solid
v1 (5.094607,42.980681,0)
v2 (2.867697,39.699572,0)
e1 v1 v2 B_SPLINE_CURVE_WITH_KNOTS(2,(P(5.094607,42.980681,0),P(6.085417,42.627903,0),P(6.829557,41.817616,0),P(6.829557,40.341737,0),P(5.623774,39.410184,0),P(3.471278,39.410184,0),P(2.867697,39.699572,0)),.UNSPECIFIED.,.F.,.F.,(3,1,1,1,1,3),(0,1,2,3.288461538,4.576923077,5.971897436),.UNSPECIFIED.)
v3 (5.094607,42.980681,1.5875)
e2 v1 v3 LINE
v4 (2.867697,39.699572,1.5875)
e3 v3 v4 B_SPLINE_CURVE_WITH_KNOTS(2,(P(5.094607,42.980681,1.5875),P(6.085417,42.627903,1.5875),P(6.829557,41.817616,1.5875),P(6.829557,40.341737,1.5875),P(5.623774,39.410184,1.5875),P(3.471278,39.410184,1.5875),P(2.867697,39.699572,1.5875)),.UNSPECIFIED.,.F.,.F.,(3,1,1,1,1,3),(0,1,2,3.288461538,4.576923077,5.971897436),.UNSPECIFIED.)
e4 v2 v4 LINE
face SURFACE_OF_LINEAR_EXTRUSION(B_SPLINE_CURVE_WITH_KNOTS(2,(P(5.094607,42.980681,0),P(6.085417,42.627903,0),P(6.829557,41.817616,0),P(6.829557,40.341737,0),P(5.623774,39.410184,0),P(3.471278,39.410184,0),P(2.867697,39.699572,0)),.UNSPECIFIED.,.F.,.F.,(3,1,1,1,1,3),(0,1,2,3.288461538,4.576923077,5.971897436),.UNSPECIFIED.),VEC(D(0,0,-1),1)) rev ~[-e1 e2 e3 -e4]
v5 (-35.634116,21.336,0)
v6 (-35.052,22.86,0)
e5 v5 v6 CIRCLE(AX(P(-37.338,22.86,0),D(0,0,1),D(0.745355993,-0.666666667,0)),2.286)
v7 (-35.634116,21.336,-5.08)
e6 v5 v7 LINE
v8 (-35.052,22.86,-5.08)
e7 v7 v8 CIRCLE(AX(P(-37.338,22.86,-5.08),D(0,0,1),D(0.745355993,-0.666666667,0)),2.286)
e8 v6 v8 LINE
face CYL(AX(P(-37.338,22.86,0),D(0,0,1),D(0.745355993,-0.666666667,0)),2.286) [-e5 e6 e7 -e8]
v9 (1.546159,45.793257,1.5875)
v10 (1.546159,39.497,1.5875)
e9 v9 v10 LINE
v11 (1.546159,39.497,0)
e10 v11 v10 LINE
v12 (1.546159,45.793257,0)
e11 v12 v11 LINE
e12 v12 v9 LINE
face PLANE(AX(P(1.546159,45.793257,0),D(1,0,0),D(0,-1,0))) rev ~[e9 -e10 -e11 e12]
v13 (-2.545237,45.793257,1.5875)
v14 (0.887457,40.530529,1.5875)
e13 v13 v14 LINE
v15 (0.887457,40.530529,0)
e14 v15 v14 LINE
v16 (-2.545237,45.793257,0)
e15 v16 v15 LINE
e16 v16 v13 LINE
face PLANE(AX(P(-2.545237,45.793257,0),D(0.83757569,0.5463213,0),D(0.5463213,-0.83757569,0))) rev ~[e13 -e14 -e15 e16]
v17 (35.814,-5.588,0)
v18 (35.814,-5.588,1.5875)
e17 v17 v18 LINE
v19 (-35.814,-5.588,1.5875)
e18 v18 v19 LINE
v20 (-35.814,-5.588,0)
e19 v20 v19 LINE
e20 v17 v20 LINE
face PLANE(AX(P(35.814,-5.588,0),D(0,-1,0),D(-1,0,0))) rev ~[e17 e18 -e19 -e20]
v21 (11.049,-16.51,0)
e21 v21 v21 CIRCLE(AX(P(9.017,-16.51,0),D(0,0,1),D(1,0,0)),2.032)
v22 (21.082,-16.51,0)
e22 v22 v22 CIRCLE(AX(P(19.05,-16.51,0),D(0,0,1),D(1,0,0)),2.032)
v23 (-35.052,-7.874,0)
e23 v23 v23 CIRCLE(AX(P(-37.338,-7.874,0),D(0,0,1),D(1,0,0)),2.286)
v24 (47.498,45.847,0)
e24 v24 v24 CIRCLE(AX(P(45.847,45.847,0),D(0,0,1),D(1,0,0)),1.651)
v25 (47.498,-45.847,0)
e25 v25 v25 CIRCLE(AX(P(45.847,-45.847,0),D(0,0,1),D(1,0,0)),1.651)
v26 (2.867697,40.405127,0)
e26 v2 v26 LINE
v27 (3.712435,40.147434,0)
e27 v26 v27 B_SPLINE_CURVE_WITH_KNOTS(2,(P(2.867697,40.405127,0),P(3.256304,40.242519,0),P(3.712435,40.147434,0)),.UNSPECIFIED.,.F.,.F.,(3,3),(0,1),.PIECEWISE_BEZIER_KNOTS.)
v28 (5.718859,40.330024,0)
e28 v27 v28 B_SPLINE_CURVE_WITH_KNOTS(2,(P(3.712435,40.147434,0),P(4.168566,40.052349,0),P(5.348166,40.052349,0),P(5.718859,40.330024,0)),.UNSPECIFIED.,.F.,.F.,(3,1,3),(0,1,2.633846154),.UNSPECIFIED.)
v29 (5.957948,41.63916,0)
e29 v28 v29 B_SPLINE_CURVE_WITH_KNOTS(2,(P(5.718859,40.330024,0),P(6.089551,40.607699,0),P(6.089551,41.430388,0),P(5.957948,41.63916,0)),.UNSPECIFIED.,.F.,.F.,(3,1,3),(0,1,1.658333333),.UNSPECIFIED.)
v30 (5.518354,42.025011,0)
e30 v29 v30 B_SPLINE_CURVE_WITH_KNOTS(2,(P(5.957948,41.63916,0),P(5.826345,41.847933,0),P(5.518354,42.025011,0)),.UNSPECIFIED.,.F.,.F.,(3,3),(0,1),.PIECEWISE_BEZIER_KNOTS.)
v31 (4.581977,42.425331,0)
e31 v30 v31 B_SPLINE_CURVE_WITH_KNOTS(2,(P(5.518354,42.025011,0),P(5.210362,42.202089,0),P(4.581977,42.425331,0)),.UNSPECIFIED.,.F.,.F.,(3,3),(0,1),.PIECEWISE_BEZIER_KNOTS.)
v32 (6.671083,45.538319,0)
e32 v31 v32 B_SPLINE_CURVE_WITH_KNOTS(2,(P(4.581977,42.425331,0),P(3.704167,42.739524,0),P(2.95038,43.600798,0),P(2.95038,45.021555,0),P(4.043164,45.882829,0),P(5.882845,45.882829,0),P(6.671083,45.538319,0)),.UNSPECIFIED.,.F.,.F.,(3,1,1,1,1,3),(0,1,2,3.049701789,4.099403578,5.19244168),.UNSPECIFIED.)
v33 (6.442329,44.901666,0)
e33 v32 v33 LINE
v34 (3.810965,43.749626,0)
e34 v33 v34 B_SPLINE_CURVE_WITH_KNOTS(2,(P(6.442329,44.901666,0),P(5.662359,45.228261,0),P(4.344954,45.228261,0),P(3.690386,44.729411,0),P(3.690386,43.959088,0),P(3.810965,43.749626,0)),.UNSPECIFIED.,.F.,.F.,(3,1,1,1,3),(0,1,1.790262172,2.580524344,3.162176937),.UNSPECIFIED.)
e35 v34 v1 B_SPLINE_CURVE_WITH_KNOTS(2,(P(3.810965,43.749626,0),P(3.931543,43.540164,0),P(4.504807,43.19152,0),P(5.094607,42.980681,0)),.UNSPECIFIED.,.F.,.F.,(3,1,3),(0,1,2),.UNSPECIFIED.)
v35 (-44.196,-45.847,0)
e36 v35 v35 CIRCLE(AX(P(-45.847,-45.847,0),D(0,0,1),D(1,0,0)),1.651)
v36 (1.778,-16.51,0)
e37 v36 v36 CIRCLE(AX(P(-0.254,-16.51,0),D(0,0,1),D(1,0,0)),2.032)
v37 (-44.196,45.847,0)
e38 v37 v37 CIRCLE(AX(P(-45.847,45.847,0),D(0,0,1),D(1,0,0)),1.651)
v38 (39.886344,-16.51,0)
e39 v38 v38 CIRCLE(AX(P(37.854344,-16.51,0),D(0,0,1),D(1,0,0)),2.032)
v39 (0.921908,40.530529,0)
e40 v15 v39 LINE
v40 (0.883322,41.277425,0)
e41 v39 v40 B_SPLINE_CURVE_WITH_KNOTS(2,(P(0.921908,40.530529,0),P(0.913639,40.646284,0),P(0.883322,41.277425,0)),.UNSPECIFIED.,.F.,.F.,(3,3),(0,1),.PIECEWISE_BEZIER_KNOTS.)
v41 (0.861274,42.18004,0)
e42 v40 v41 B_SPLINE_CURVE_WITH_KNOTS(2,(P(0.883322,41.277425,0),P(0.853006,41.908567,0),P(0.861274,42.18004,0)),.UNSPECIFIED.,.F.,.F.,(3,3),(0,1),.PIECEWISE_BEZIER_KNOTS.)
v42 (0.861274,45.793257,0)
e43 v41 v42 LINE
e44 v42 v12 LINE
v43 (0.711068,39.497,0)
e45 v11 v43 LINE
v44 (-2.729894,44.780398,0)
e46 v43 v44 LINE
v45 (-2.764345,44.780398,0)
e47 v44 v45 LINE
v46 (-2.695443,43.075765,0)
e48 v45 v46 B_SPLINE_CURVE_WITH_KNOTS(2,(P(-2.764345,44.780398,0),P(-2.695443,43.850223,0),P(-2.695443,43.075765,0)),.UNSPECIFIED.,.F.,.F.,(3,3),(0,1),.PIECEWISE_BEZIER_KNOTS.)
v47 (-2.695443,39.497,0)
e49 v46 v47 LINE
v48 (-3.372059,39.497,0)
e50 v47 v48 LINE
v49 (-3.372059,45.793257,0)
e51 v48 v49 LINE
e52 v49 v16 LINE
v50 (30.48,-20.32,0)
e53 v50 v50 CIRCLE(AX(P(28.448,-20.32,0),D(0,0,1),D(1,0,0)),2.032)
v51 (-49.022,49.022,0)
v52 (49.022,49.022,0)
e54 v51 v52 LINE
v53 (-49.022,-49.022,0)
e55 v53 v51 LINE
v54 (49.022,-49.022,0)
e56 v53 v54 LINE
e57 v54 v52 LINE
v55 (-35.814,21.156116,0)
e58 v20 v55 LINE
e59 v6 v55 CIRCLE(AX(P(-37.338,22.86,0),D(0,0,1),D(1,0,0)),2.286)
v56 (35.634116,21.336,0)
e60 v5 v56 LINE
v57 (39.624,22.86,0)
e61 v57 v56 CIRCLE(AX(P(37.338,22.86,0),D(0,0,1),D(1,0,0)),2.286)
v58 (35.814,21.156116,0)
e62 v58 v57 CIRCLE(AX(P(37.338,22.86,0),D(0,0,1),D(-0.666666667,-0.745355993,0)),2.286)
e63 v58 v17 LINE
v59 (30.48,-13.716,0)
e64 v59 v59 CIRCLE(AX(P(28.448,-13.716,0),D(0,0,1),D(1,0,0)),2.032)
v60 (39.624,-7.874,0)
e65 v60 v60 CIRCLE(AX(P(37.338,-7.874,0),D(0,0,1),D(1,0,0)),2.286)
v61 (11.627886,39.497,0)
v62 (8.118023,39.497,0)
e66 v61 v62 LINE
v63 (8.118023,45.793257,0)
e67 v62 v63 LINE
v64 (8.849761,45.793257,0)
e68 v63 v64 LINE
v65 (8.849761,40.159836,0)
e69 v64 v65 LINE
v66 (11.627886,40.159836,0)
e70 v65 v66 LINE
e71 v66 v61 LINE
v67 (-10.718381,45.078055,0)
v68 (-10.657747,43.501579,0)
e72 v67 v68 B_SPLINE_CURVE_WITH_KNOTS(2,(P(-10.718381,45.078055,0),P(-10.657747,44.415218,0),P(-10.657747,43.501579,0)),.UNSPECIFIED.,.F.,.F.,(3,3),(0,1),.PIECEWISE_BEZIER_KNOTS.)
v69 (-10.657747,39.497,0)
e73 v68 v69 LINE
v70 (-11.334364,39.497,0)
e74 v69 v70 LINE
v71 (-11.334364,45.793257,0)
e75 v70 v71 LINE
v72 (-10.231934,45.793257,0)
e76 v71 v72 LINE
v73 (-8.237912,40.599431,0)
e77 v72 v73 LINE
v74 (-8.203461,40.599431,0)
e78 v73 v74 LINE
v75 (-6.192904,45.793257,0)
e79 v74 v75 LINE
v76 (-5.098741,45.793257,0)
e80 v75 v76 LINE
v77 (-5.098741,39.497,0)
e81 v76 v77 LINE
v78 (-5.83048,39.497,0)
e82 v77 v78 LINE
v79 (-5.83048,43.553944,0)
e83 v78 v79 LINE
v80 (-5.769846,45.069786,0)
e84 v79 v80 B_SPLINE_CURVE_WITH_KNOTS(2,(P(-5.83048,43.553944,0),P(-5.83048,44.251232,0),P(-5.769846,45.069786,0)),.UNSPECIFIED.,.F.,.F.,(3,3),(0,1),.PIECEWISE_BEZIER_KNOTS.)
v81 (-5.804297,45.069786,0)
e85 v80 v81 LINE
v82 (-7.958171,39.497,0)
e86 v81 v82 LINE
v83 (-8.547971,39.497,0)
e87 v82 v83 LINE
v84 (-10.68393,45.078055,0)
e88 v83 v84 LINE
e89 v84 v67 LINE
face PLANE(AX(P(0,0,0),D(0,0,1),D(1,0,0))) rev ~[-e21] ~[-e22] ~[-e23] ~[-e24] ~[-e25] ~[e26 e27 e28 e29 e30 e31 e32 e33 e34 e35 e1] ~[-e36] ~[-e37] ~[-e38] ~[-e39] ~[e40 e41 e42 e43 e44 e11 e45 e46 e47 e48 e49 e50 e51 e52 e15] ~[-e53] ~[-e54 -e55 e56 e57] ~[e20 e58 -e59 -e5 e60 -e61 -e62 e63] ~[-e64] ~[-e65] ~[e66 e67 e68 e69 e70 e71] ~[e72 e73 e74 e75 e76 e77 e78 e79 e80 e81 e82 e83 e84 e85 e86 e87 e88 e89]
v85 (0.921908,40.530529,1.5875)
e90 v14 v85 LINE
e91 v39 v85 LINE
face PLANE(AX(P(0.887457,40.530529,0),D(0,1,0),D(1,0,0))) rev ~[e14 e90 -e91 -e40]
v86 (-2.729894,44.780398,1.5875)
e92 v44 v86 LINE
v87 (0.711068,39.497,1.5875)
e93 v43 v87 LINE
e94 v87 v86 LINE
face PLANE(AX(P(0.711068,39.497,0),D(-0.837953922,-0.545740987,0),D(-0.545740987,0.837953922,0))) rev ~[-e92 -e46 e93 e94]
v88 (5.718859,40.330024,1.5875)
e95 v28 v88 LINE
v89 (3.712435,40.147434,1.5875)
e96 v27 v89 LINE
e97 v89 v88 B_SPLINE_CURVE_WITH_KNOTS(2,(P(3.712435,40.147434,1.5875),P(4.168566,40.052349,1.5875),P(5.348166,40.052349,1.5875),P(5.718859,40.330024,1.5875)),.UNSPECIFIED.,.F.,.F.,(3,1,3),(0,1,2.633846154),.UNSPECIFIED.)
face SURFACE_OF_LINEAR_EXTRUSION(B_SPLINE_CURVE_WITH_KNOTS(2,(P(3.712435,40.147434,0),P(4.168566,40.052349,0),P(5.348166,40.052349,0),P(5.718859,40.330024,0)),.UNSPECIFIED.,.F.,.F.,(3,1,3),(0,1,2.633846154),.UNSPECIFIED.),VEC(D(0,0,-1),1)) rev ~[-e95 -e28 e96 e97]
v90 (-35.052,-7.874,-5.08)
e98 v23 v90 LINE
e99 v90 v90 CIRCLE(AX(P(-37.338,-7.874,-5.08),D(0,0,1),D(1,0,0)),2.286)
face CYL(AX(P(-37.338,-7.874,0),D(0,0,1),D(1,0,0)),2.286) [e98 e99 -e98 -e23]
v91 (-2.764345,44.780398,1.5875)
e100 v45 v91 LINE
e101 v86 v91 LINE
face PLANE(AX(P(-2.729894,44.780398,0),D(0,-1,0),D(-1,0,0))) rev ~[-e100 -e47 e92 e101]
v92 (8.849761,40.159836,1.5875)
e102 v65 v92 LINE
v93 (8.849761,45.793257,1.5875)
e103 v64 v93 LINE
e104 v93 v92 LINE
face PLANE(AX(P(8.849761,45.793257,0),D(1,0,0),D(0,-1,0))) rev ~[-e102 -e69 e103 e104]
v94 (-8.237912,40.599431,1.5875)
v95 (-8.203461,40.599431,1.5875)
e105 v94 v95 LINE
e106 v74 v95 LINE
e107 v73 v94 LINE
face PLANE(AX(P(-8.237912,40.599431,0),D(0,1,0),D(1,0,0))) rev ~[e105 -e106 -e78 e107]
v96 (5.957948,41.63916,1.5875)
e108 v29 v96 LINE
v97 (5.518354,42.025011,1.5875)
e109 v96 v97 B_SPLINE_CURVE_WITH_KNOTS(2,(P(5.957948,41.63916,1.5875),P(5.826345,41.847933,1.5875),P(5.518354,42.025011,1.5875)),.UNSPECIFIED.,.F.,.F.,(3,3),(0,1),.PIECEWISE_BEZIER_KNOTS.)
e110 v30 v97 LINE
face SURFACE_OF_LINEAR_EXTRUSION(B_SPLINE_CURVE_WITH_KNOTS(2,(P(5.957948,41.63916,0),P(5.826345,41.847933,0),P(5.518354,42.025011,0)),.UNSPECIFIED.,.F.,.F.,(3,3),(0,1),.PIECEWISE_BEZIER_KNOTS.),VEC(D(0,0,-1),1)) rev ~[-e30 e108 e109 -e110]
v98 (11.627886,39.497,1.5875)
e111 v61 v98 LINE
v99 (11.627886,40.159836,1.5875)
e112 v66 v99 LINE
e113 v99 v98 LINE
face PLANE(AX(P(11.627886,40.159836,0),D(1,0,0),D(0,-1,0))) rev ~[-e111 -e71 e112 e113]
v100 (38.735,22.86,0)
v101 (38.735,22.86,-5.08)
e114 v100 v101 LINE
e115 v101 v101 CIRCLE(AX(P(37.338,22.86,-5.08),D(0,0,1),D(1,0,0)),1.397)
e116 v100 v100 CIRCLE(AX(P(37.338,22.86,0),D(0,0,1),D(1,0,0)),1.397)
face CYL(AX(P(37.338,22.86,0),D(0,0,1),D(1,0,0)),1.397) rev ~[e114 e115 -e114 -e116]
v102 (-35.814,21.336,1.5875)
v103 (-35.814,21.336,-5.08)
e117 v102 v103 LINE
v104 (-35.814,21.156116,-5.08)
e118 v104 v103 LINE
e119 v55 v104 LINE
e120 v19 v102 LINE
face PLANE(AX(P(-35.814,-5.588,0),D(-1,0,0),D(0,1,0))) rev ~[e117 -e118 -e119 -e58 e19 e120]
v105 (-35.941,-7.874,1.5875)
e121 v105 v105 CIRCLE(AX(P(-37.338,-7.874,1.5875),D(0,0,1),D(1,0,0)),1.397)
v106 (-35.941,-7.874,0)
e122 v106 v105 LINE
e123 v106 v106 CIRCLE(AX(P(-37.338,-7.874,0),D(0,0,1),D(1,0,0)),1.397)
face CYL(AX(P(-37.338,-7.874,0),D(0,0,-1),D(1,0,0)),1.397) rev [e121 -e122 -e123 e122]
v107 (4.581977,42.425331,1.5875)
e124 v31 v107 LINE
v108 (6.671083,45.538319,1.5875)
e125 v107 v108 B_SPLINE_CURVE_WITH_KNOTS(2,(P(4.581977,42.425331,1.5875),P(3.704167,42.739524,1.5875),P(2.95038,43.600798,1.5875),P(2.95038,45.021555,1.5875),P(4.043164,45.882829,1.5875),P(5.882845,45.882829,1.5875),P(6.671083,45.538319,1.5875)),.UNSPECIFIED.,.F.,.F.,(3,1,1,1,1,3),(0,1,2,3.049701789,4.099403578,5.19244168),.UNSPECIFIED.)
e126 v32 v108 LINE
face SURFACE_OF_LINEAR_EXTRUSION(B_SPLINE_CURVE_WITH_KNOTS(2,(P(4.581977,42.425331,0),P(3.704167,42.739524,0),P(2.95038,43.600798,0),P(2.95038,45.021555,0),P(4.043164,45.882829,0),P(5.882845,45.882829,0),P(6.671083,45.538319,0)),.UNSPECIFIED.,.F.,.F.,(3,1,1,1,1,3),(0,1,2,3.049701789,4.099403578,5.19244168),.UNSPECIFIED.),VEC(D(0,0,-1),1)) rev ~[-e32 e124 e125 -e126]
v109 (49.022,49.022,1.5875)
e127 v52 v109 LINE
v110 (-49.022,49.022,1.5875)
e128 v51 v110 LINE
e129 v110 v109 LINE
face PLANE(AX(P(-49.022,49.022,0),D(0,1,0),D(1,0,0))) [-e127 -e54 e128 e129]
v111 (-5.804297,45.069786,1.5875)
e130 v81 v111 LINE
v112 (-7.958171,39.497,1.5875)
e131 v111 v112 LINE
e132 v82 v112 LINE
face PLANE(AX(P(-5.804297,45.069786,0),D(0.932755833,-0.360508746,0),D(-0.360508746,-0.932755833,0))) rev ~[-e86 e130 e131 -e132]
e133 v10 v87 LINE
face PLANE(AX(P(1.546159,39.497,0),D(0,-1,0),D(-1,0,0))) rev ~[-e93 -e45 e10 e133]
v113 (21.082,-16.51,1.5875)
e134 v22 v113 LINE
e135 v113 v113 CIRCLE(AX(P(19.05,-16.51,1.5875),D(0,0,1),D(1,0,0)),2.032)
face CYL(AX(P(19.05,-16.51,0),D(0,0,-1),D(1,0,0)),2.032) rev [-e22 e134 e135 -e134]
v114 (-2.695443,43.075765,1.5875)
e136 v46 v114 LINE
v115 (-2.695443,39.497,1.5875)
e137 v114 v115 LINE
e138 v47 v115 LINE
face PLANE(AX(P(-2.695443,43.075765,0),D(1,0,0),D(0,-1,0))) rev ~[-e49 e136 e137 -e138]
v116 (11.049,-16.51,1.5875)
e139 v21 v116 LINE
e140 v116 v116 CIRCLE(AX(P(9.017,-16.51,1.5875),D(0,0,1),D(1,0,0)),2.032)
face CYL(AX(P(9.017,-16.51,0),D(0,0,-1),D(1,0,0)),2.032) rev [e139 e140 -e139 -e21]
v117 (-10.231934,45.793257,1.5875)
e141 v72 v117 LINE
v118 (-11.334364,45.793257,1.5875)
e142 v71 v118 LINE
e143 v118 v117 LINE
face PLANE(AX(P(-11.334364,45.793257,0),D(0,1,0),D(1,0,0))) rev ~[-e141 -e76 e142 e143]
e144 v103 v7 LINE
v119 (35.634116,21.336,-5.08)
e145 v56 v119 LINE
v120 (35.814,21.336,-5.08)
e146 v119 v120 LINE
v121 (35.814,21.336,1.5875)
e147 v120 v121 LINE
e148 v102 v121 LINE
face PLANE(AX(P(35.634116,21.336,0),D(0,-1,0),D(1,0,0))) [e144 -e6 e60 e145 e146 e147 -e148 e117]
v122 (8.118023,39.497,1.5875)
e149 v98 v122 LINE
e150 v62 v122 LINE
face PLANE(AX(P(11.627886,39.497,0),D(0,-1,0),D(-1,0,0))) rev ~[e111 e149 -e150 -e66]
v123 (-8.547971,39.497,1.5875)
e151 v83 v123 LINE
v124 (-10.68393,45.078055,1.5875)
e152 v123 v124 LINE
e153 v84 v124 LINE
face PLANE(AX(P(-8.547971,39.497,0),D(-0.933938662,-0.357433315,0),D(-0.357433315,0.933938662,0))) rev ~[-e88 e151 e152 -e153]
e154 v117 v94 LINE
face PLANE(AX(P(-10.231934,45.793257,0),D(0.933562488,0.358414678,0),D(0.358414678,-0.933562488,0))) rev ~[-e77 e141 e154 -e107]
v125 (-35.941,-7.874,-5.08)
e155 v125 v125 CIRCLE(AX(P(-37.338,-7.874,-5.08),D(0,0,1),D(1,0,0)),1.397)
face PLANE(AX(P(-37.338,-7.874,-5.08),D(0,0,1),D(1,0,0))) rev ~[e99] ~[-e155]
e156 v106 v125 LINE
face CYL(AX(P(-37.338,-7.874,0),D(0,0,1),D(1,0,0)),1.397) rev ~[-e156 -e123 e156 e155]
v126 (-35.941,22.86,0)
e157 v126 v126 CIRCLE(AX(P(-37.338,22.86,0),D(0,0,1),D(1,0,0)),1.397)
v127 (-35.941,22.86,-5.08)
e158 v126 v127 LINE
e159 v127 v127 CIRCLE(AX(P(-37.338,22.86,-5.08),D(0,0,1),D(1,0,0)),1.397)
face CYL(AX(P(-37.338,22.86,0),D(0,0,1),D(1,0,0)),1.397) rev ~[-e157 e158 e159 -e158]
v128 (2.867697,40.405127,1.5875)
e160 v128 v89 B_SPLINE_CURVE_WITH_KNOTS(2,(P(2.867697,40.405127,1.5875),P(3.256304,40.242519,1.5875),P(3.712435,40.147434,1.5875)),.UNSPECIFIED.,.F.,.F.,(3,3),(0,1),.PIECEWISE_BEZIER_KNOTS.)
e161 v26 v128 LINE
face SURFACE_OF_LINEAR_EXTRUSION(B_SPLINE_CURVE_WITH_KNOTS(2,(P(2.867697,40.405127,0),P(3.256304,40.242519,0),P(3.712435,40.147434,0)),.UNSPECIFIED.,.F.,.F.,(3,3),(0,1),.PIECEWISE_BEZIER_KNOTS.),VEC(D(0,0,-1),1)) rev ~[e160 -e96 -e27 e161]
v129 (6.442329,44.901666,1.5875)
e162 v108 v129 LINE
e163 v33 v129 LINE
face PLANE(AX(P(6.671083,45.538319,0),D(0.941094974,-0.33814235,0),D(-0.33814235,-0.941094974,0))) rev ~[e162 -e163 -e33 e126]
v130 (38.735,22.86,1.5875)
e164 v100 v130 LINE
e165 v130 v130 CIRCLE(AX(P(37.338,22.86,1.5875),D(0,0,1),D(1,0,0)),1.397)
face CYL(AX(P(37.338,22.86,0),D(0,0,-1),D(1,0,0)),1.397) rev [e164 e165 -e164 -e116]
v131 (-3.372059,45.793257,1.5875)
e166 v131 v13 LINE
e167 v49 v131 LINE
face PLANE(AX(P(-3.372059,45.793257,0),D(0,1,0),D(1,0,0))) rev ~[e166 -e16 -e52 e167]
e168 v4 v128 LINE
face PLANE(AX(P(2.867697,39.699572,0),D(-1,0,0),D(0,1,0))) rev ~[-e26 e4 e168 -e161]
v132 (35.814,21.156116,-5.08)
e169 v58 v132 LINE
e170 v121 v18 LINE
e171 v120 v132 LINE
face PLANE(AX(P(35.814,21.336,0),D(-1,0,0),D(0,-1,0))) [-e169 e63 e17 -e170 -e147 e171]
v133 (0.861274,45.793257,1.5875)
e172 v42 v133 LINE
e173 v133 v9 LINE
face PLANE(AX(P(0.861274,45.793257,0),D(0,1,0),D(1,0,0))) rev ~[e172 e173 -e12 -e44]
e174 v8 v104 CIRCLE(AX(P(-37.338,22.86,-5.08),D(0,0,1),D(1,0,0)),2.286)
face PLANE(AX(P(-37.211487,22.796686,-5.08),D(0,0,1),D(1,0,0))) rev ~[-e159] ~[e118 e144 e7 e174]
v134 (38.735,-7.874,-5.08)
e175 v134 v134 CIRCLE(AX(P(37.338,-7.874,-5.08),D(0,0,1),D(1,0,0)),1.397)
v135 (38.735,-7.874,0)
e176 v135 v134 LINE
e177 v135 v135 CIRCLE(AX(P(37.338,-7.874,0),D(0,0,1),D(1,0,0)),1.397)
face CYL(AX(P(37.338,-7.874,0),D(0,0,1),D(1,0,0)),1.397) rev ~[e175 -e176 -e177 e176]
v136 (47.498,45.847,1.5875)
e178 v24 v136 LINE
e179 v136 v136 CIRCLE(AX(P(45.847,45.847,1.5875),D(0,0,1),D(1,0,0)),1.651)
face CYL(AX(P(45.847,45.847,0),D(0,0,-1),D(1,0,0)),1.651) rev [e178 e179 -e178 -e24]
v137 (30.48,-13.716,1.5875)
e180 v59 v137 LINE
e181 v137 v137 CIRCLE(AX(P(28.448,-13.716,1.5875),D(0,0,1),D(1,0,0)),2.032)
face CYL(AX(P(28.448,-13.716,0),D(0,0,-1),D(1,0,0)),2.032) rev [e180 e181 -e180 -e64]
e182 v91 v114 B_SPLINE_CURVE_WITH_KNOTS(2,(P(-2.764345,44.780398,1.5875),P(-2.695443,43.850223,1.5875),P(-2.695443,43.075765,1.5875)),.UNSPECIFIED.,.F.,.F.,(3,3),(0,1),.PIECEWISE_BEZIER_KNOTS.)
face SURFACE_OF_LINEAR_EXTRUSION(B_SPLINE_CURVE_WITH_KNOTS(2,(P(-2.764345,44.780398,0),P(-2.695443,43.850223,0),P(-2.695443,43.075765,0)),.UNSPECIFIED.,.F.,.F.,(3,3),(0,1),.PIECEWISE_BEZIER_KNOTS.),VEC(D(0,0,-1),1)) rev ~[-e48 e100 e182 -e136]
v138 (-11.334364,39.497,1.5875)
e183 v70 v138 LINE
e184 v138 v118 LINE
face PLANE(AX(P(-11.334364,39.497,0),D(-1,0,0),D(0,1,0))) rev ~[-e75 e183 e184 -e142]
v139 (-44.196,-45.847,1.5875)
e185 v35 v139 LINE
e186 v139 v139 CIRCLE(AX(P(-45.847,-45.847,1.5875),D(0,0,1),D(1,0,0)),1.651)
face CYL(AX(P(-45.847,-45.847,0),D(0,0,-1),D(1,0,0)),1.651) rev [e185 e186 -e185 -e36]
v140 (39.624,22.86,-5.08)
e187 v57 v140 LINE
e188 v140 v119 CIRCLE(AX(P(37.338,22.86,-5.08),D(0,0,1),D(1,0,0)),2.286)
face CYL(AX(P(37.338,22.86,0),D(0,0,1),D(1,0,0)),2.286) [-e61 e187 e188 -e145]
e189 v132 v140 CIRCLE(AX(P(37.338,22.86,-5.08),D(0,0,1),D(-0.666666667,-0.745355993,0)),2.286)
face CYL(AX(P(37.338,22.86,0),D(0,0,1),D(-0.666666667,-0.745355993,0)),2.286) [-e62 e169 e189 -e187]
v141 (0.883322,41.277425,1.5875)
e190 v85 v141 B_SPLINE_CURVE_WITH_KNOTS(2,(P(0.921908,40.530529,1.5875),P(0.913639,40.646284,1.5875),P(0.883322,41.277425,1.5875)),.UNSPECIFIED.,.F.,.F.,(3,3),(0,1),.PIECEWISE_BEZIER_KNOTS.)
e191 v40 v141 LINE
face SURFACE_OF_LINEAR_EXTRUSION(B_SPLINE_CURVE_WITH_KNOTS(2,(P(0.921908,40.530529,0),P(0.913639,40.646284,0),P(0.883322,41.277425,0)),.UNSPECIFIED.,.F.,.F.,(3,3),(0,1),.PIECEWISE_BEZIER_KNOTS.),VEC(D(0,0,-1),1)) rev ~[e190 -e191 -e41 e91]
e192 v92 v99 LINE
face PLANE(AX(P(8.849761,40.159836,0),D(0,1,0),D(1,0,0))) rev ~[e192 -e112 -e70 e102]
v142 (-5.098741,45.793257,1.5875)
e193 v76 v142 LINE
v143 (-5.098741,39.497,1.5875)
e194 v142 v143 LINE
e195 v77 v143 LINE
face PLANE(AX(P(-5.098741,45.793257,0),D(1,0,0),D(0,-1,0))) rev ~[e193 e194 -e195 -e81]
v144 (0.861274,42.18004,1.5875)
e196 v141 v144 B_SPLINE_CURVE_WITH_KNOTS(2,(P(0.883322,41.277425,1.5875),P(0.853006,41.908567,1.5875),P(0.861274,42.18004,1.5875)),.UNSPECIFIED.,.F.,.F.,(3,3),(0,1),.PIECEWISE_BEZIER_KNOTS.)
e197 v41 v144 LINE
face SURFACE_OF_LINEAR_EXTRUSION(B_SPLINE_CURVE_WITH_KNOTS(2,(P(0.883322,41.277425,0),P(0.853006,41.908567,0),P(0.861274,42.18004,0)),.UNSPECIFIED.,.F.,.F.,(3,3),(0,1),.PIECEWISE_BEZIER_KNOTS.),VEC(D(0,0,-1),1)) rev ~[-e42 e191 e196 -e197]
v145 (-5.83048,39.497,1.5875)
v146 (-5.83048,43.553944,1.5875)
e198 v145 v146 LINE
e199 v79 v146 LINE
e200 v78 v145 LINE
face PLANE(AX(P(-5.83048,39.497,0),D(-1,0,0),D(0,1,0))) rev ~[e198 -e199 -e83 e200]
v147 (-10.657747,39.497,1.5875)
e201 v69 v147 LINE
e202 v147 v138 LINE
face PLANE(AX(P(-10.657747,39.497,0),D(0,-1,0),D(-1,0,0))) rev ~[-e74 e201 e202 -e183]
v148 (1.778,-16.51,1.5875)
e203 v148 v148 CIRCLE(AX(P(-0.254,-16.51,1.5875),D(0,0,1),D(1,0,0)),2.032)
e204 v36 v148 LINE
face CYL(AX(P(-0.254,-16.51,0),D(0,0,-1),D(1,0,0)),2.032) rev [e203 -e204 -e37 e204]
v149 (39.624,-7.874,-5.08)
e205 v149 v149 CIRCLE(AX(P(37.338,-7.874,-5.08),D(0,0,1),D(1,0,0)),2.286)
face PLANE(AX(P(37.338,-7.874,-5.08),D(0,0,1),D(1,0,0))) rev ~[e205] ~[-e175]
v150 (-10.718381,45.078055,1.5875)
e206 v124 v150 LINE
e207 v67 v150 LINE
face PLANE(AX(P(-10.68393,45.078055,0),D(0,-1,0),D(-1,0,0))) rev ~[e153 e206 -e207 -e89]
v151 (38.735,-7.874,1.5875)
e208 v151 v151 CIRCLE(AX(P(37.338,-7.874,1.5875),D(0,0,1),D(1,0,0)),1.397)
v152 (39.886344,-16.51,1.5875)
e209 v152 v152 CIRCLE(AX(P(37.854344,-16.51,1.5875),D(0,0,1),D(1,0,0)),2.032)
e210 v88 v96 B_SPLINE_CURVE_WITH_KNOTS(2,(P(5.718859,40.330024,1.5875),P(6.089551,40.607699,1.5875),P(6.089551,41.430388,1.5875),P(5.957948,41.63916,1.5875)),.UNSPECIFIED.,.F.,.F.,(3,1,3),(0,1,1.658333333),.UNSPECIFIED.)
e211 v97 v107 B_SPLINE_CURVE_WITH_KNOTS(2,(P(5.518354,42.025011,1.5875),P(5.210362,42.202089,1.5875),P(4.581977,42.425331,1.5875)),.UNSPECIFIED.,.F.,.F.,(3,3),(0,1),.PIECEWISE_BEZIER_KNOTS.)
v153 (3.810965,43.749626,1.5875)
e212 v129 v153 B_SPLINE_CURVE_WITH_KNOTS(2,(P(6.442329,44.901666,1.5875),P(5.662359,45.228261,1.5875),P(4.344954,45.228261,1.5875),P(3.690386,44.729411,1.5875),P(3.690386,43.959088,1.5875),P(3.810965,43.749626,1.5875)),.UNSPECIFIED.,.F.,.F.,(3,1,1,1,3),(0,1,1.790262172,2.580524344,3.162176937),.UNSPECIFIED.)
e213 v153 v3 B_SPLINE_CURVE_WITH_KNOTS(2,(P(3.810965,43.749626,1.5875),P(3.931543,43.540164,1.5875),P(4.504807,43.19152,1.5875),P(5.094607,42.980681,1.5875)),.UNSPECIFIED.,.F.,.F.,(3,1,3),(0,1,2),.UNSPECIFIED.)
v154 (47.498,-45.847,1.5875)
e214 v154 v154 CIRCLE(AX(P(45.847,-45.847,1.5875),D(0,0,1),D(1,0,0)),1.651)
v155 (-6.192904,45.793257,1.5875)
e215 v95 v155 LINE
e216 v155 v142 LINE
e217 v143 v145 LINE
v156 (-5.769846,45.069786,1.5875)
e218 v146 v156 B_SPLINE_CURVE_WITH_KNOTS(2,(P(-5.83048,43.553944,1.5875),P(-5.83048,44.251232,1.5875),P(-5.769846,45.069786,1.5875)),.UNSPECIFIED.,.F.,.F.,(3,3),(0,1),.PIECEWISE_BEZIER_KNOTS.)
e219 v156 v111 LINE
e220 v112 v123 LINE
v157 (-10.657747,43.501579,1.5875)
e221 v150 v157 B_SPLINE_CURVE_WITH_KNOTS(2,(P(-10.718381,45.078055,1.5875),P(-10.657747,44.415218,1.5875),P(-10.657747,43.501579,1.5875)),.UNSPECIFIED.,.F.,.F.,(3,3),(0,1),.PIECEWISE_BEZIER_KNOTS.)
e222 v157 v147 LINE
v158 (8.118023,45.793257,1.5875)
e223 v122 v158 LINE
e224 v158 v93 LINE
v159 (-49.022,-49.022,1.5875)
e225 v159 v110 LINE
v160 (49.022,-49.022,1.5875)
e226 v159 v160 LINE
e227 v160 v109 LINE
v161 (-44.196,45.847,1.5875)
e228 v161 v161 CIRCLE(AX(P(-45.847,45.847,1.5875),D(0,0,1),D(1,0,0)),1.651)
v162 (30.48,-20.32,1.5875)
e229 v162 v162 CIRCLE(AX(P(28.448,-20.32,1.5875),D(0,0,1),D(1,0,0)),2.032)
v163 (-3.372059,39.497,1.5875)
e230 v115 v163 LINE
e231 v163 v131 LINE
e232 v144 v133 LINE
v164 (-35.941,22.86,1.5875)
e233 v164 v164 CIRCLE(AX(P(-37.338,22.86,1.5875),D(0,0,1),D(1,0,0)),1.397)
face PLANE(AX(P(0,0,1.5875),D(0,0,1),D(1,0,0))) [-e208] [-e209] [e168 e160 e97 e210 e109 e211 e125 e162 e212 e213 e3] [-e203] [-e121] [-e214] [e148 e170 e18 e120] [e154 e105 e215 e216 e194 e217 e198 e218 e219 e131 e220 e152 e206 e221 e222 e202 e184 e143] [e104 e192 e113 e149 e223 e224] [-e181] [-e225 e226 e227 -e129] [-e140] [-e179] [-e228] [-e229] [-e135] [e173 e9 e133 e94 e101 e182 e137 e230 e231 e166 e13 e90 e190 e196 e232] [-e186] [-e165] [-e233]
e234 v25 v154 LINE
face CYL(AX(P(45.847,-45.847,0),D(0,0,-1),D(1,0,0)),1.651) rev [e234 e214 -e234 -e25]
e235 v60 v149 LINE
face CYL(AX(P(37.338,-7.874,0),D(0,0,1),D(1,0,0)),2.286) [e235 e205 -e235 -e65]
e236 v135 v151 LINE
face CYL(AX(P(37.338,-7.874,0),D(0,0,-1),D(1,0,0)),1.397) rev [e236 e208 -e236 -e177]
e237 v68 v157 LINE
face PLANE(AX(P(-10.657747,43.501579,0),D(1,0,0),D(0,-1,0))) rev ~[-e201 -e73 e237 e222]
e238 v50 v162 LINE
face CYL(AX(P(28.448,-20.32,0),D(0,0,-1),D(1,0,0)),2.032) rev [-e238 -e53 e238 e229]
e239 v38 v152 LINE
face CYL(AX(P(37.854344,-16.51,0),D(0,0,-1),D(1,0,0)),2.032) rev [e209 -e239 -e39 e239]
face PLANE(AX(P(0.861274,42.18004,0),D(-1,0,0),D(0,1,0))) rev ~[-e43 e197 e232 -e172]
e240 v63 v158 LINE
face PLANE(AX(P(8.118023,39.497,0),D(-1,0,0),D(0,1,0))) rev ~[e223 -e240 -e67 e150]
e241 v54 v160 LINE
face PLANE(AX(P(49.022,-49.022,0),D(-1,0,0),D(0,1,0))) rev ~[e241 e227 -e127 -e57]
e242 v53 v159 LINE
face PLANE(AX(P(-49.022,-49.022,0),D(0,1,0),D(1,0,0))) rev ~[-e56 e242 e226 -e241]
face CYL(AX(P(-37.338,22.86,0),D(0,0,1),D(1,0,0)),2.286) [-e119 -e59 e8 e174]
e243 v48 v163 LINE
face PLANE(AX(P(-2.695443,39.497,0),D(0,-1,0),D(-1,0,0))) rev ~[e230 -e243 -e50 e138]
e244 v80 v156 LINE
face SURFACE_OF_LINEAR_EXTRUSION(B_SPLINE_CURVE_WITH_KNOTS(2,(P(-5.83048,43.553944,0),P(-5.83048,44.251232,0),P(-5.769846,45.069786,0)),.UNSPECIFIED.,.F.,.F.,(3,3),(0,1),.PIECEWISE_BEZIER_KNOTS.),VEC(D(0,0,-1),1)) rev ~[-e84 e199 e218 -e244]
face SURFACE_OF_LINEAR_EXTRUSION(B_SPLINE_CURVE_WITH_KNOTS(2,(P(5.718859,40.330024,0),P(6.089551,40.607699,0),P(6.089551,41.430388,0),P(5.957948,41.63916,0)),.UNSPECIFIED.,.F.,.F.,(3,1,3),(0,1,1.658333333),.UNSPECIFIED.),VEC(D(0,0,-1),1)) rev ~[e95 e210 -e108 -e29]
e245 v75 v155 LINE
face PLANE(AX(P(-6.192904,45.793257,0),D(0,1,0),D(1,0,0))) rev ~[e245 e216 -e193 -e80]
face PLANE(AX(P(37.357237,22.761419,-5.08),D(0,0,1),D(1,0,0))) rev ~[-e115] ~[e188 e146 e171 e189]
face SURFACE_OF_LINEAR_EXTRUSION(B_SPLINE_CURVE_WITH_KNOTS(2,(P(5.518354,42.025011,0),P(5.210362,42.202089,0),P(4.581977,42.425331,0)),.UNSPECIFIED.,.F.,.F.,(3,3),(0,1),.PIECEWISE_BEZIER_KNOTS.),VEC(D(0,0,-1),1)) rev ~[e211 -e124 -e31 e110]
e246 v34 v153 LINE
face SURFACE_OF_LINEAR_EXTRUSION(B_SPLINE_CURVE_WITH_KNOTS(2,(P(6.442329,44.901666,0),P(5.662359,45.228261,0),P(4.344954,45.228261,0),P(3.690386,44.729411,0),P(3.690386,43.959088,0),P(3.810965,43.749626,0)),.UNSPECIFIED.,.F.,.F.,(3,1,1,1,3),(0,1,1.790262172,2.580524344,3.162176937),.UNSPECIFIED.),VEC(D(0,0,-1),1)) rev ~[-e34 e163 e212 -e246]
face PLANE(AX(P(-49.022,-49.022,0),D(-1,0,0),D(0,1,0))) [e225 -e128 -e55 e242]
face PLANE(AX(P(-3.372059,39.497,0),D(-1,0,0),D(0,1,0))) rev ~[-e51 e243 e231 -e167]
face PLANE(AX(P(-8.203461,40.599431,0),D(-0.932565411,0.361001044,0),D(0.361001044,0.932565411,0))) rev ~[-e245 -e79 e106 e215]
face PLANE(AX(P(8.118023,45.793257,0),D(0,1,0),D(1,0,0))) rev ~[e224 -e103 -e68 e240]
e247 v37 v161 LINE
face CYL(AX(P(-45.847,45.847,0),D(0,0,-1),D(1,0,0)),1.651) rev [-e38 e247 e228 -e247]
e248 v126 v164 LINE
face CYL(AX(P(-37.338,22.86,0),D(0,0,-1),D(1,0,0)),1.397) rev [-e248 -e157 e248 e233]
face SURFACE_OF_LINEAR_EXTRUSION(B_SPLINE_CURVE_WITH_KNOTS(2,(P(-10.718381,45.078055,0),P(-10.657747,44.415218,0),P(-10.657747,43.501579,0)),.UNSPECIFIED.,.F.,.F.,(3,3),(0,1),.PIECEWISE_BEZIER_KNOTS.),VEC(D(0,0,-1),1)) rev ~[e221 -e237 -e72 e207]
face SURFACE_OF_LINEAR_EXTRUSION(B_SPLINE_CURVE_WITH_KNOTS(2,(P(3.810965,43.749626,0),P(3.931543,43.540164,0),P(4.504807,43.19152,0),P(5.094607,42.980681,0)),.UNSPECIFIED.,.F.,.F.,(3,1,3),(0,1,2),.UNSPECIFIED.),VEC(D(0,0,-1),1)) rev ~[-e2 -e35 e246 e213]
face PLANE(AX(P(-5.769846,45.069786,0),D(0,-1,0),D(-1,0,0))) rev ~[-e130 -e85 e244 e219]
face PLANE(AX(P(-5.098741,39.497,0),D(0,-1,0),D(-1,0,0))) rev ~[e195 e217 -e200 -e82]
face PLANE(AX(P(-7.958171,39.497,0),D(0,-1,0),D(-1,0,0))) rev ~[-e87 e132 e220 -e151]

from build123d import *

# Parameters (mm, degrees)
F0_W     = 98.044
F0_H     = 98.044
F0_R     = 1.651
F0_R_2   = 2.286
F0_R_3   = 2.032
F0_R_4   = 1.397
F1_DEPTH = 1.5875
F2_DEPTH = 5.08


with BuildPart() as f1:
    # F0 (on Top) → F1 (new body)
    with BuildSketch(Plane.XY):
        Rectangle(F0_W, F0_H)
        with Locations((-45.847, -45.847)):
            Circle(F0_R, mode=Mode.SUBTRACT)
        with Locations((-37.338, -7.874)):
            Circle(F0_R_2, mode=Mode.SUBTRACT)
        with Locations((-0.254, -16.51)):
            Circle(F0_R_3, mode=Mode.SUBTRACT)
        with Locations((45.847, -45.847)):
            Circle(F0_R, mode=Mode.SUBTRACT)
        with Locations((9.017, -16.51)):
            Circle(F0_R_3, mode=Mode.SUBTRACT)
        with Locations((19.05, -16.51)):
            Circle(F0_R_3, mode=Mode.SUBTRACT)
        with Locations((28.448, -20.32)):
            Circle(F0_R_3, mode=Mode.SUBTRACT)
        with Locations((28.448, -13.716)):
            Circle(F0_R_3, mode=Mode.SUBTRACT)
        with Locations((37.8543436527, -16.51)):
            Circle(F0_R_3, mode=Mode.SUBTRACT)
        with Locations((37.338, -7.874)):
            Circle(F0_R_2, mode=Mode.SUBTRACT)
        with Locations((-45.847, 45.847)):
            Circle(F0_R, mode=Mode.SUBTRACT)
        with BuildLine():
            Line((-7.9581705729, 39.497), (-8.5479709201, 39.497))
            Line((-8.5479709201, 39.497), (-10.6839301215, 45.0780546875))
            Line((-10.6839301215, 45.0780546875), (-10.7183810764, 45.0780546875))
            add(Edge.make_bspline(
                [(-10.7183810764, 45.0780546875), (-10.6577473958, 44.415218316), (-10.6577473958, 43.5015789931)],
                knots=[0, 0, 0, 1, 1, 1], degree=2))
            Line((-10.6577473958, 43.5015789931), (-10.6577473958, 39.497))
            Line((-10.6577473958, 39.497), (-11.3343641493, 39.497))
            Line((-11.3343641493, 39.497), (-11.3343641493, 45.7932565104))
            Line((-11.3343641493, 45.7932565104), (-10.2319335938, 45.7932565104))
            Line((-10.2319335938, 45.7932565104), (-8.2379123264, 40.5994305556))
            Line((-8.2379123264, 40.5994305556), (-8.2034613715, 40.5994305556))
            Line((-8.2034613715, 40.5994305556), (-6.1929036458, 45.7932565104))
            Line((-6.1929036458, 45.7932565104), (-5.0987413194, 45.7932565104))
            Line((-5.0987413194, 45.7932565104), (-5.0987413194, 39.497))
            Line((-5.0987413194, 39.497), (-5.8304796007, 39.497))
            Line((-5.8304796007, 39.497), (-5.8304796007, 43.5539444444))
            add(Edge.make_bspline(
                [(-5.8304796007, 43.5539444444), (-5.8304796007, 44.2512317708), (-5.7698459201, 45.0697864583)],
                knots=[0, 0, 0, 1, 1, 1], degree=2))
            Line((-5.7698459201, 45.0697864583), (-5.804296875, 45.0697864583))
            Line((-5.804296875, 45.0697864583), (-7.9581705729, 39.497))
        make_face(mode=Mode.SUBTRACT)
        with BuildLine():
            Line((1.5461588542, 45.7932565104), (1.5461588542, 39.497))
            Line((1.5461588542, 39.497), (0.7110677083, 39.497))
            Line((0.7110677083, 39.497), (-2.7298936632, 44.7803984375))
            Line((-2.7298936632, 44.7803984375), (-2.7643446181, 44.7803984375))
            add(Edge.make_bspline(
                [(-2.7643446181, 44.7803984375), (-2.6954427083, 43.8502226563), (-2.6954427083, 43.075765191)],
                knots=[0, 0, 0, 1, 1, 1], degree=2))
            Line((-2.6954427083, 43.075765191), (-2.6954427083, 39.497))
            Line((-2.6954427083, 39.497), (-3.3720594618, 39.497))
            Line((-3.3720594618, 39.497), (-3.3720594618, 45.7932565104))
            Line((-3.3720594618, 45.7932565104), (-2.5452365451, 45.7932565104))
            Line((-2.5452365451, 45.7932565104), (0.8874565972, 40.5305286458))
            Line((0.8874565972, 40.5305286458), (0.9219075521, 40.5305286458))
            add(Edge.make_bspline(
                [(0.9219075521, 40.5305286458), (0.9136393229, 40.6462838542), (0.8833224826, 41.2774253472)],
                knots=[0, 0, 0, 1, 1, 1], degree=2))
            add(Edge.make_bspline(
                [(0.8833224826, 41.2774253472), (0.8530056424, 41.9085668403), (0.8612738715, 42.1800403646)],
                knots=[0, 0, 0, 1, 1, 1], degree=2))
            Line((0.8612738715, 42.1800403646), (0.8612738715, 45.7932565104))
            Line((0.8612738715, 45.7932565104), (1.5461588542, 45.7932565104))
        make_face(mode=Mode.SUBTRACT)
        with BuildLine():
            ThreePointArc((-35.814, 21.1561162011), (-39.4248229441, 23.793255592), (-35.052, 22.86))
            ThreePointArc((-35.052, 22.86), (-35.2024819874, 22.0443047028), (-35.6341162011, 21.336))
            Line((-35.6341162011, 21.336), (35.6341162011, 21.336))
            ThreePointArc((35.6341162011, 21.336), (36.5223047028, 24.9955180126), (39.624, 22.86))
            ThreePointArc((39.624, 22.86), (38.271255592, 20.7731770559), (35.814, 21.1561162011))
            Line((35.814, 21.1561162011), (35.814, -5.588))
            Line((35.814, -5.588), (-35.814, -5.588))
            Line((-35.814, -5.588), (-35.814, 21.1561162011))
        make_face(mode=Mode.SUBTRACT)
        with BuildLine():
            add(Edge.make_bspline(
                [(6.4574869792, 42.2227595486), (6.8295572917, 41.8176163194), (6.8295572917, 41.1726944444)],
                knots=[0, 0, 0, 1, 1, 1], degree=2))
            add(Edge.make_bspline(
                [(6.8295572917, 41.1726944444), (6.8295572917, 40.3417374132), (6.2266655816, 39.8759605035)],
                knots=[0, 0, 0, 1, 1, 1], degree=2))
            add(Edge.make_bspline(
                [(6.2266655816, 39.8759605035), (5.6237738715, 39.4101835938), (4.5902452257, 39.4101835938)],
                knots=[0, 0, 0, 1, 1, 1], degree=2))
            add(Edge.make_bspline(
                [(4.5902452257, 39.4101835938), (3.4712782118, 39.4101835938), (2.8676974826, 39.6995716146)],
                knots=[0, 0, 0, 1, 1, 1], degree=2))
            Line((2.8676974826, 39.6995716146), (2.8676974826, 40.4051271701))
            add(Edge.make_bspline(
                [(2.8676974826, 40.4051271701), (3.2563042535, 40.2425186632), (3.7124348958, 40.1474340278)],
                knots=[0, 0, 0, 1, 1, 1], degree=2))
            add(Edge.make_bspline(
                [(3.7124348958, 40.1474340278), (4.1685655382, 40.0523493924), (4.6164279514, 40.0523493924)],
                knots=[0, 0, 0, 1, 1, 1], degree=2))
            add(Edge.make_bspline(
                [(4.6164279514, 40.0523493924), (5.3481662326, 40.0523493924), (5.7188585069, 40.3300240885)],
                knots=[0, 0, 0, 1, 1, 1], degree=2))
            add(Edge.make_bspline(
                [(5.7188585069, 40.3300240885), (6.0895507813, 40.6076987847), (6.0895507813, 41.1037925347)],
                knots=[0, 0, 0, 1, 1, 1], degree=2))
            add(Edge.make_bspline(
                [(6.0895507813, 41.1037925347), (6.0895507813, 41.4303875868), (5.9579481337, 41.6391603733)],
                knots=[0, 0, 0, 1, 1, 1], degree=2))
            add(Edge.make_bspline(
                [(5.9579481337, 41.6391603733), (5.8263454861, 41.8479331597), (5.5183539497, 42.0250110677)],
                knots=[0, 0, 0, 1, 1, 1], degree=2))
            add(Edge.make_bspline(
                [(5.5183539497, 42.0250110677), (5.2103624132, 42.2020889757), (4.5819769965, 42.4253311632)],
                knots=[0, 0, 0, 1, 1, 1], degree=2))
            add(Edge.make_bspline(
                [(4.5819769965, 42.4253311632), (3.7041666667, 42.7395238715), (3.3272732205, 43.1701608073)],
                knots=[0, 0, 0, 1, 1, 1], degree=2))
            add(Edge.make_bspline(
                [(3.3272732205, 43.1701608073), (2.9503797743, 43.6007977431), (2.9503797743, 44.2939509549)],
                knots=[0, 0, 0, 1, 1, 1], degree=2))
            add(Edge.make_bspline(
                [(2.9503797743, 44.2939509549), (2.9503797743, 45.0215551215), (3.4967719184, 45.4521920573)],
                knots=[0, 0, 0, 1, 1, 1], degree=2))
            add(Edge.make_bspline(
                [(3.4967719184, 45.4521920573), (4.0431640625, 45.8828289931), (4.9444010417, 45.8828289931)],
                knots=[0, 0, 0, 1, 1, 1], degree=2))
            add(Edge.make_bspline(
                [(4.9444010417, 45.8828289931), (5.8828450521, 45.8828289931), (6.6710828993, 45.5383194444)],
                knots=[0, 0, 0, 1, 1, 1], degree=2))
            Line((6.6710828993, 45.5383194444), (6.442328559, 44.9016657986))
            add(Edge.make_bspline(
                [(6.442328559, 44.9016657986), (5.662358941, 45.2282608507), (4.9264865451, 45.2282608507)],
                knots=[0, 0, 0, 1, 1, 1], degree=2))
            add(Edge.make_bspline(
                [(4.9264865451, 45.2282608507), (4.3449544271, 45.2282608507), (4.0176703559, 44.9788359375)],
                knots=[0, 0, 0, 1, 1, 1], degree=2))
            add(Edge.make_bspline(
                [(4.0176703559, 44.9788359375), (3.6903862847, 44.7294110243), (3.6903862847, 44.2856827257)],
                knots=[0, 0, 0, 1, 1, 1], degree=2))
            add(Edge.make_bspline(
                [(3.6903862847, 44.2856827257), (3.6903862847, 43.9590876736), (3.8109646267, 43.7496258681)],
                knots=[0, 0, 0, 1, 1, 1], degree=2))
            add(Edge.make_bspline(
                [(3.8109646267, 43.7496258681), (3.9315429688, 43.5401640625), (4.2181749132, 43.3658422309)],
                knots=[0, 0, 0, 1, 1, 1], degree=2))
            add(Edge.make_bspline(
                [(4.2181749132, 43.3658422309), (4.5048068576, 43.1915203993), (5.0946072049, 42.9806805556)],
                knots=[0, 0, 0, 1, 1, 1], degree=2))
            add(Edge.make_bspline(
                [(5.0946072049, 42.9806805556), (6.0854166667, 42.6279027778), (6.4574869792, 42.2227595486)],
                knots=[0, 0, 0, 1, 1, 1], degree=2))
        make_face(mode=Mode.SUBTRACT)
        Polygon((11.6278862847, 39.497), (8.1180230035, 39.497), (8.1180230035, 45.7932565104), (8.8497612847, 45.7932565104), (8.8497612847, 40.1598363715), (11.6278862847, 40.1598363715), align=None, mode=Mode.SUBTRACT)
        with Locations((45.847, 45.847)):
            Circle(F0_R, mode=Mode.SUBTRACT)
        with Locations((-37.338, -7.874)):
            Circle(F0_R_2)
        with Locations((-37.338, -7.874)):
            Circle(F0_R_4, mode=Mode.SUBTRACT)
        with Locations((37.338, -7.874)):
            Circle(F0_R_2)
        with Locations((37.338, -7.874)):
            Circle(F0_R_4, mode=Mode.SUBTRACT)
        with BuildLine():
            ThreePointArc((39.624, 22.86), (36.5223047028, 24.9955180126), (35.6341162011, 21.336))
            Line((35.6341162011, 21.336), (35.814, 21.336))
            Line((35.814, 21.336), (35.814, 21.1561162011))
            ThreePointArc((35.814, 21.1561162011), (38.271255592, 20.7731770559), (39.624, 22.86))
        make_face()
        with Locations((37.338, 22.86)):
            Circle(F0_R_4, mode=Mode.SUBTRACT)
        with BuildLine():
            ThreePointArc((-35.6341162011, 21.336), (-35.2024819874, 22.0443047028), (-35.052, 22.86))
            ThreePointArc((-35.052, 22.86), (-39.4248229441, 23.793255592), (-35.814, 21.1561162011))
            Line((-35.814, 21.1561162011), (-35.814, 21.336))
            Line((-35.814, 21.336), (-35.6341162011, 21.336))
        make_face()
        with Locations((-37.338, 22.86)):
            Circle(F0_R_4, mode=Mode.SUBTRACT)
    extrude(amount=F1_DEPTH)

    # F0 (on Top) → F2 (join)
    with BuildSketch(Plane.XY):
        with BuildLine():
            ThreePointArc((39.624, 22.86), (36.5223047028, 24.9955180126), (35.6341162011, 21.336))
            Line((35.6341162011, 21.336), (35.814, 21.336))
            Line((35.814, 21.336), (35.814, 21.1561162011))
            ThreePointArc((35.814, 21.1561162011), (38.271255592, 20.7731770559), (39.624, 22.86))
        make_face()
        with Locations((37.338, 22.86)):
            Circle(F0_R_4, mode=Mode.SUBTRACT)
        with Locations((-37.338, -7.874)):
            Circle(F0_R_2)
        with Locations((-37.338, -7.874)):
            Circle(F0_R_4, mode=Mode.SUBTRACT)
        with BuildLine():
            ThreePointArc((-35.6341162011, 21.336), (-35.2024819874, 22.0443047028), (-35.052, 22.86))
            ThreePointArc((-35.052, 22.86), (-39.4248229441, 23.793255592), (-35.814, 21.1561162011))
            Line((-35.814, 21.1561162011), (-35.814, 21.336))
            Line((-35.814, 21.336), (-35.6341162011, 21.336))
        make_face()
        with Locations((-37.338, 22.86)):
            Circle(F0_R_4, mode=Mode.SUBTRACT)
        with Locations((37.338, -7.874)):
            Circle(F0_R_2)
        with Locations((37.338, -7.874)):
            Circle(F0_R_4, mode=Mode.SUBTRACT)
    extrude(amount=-F2_DEPTH)


solid = f1.part
